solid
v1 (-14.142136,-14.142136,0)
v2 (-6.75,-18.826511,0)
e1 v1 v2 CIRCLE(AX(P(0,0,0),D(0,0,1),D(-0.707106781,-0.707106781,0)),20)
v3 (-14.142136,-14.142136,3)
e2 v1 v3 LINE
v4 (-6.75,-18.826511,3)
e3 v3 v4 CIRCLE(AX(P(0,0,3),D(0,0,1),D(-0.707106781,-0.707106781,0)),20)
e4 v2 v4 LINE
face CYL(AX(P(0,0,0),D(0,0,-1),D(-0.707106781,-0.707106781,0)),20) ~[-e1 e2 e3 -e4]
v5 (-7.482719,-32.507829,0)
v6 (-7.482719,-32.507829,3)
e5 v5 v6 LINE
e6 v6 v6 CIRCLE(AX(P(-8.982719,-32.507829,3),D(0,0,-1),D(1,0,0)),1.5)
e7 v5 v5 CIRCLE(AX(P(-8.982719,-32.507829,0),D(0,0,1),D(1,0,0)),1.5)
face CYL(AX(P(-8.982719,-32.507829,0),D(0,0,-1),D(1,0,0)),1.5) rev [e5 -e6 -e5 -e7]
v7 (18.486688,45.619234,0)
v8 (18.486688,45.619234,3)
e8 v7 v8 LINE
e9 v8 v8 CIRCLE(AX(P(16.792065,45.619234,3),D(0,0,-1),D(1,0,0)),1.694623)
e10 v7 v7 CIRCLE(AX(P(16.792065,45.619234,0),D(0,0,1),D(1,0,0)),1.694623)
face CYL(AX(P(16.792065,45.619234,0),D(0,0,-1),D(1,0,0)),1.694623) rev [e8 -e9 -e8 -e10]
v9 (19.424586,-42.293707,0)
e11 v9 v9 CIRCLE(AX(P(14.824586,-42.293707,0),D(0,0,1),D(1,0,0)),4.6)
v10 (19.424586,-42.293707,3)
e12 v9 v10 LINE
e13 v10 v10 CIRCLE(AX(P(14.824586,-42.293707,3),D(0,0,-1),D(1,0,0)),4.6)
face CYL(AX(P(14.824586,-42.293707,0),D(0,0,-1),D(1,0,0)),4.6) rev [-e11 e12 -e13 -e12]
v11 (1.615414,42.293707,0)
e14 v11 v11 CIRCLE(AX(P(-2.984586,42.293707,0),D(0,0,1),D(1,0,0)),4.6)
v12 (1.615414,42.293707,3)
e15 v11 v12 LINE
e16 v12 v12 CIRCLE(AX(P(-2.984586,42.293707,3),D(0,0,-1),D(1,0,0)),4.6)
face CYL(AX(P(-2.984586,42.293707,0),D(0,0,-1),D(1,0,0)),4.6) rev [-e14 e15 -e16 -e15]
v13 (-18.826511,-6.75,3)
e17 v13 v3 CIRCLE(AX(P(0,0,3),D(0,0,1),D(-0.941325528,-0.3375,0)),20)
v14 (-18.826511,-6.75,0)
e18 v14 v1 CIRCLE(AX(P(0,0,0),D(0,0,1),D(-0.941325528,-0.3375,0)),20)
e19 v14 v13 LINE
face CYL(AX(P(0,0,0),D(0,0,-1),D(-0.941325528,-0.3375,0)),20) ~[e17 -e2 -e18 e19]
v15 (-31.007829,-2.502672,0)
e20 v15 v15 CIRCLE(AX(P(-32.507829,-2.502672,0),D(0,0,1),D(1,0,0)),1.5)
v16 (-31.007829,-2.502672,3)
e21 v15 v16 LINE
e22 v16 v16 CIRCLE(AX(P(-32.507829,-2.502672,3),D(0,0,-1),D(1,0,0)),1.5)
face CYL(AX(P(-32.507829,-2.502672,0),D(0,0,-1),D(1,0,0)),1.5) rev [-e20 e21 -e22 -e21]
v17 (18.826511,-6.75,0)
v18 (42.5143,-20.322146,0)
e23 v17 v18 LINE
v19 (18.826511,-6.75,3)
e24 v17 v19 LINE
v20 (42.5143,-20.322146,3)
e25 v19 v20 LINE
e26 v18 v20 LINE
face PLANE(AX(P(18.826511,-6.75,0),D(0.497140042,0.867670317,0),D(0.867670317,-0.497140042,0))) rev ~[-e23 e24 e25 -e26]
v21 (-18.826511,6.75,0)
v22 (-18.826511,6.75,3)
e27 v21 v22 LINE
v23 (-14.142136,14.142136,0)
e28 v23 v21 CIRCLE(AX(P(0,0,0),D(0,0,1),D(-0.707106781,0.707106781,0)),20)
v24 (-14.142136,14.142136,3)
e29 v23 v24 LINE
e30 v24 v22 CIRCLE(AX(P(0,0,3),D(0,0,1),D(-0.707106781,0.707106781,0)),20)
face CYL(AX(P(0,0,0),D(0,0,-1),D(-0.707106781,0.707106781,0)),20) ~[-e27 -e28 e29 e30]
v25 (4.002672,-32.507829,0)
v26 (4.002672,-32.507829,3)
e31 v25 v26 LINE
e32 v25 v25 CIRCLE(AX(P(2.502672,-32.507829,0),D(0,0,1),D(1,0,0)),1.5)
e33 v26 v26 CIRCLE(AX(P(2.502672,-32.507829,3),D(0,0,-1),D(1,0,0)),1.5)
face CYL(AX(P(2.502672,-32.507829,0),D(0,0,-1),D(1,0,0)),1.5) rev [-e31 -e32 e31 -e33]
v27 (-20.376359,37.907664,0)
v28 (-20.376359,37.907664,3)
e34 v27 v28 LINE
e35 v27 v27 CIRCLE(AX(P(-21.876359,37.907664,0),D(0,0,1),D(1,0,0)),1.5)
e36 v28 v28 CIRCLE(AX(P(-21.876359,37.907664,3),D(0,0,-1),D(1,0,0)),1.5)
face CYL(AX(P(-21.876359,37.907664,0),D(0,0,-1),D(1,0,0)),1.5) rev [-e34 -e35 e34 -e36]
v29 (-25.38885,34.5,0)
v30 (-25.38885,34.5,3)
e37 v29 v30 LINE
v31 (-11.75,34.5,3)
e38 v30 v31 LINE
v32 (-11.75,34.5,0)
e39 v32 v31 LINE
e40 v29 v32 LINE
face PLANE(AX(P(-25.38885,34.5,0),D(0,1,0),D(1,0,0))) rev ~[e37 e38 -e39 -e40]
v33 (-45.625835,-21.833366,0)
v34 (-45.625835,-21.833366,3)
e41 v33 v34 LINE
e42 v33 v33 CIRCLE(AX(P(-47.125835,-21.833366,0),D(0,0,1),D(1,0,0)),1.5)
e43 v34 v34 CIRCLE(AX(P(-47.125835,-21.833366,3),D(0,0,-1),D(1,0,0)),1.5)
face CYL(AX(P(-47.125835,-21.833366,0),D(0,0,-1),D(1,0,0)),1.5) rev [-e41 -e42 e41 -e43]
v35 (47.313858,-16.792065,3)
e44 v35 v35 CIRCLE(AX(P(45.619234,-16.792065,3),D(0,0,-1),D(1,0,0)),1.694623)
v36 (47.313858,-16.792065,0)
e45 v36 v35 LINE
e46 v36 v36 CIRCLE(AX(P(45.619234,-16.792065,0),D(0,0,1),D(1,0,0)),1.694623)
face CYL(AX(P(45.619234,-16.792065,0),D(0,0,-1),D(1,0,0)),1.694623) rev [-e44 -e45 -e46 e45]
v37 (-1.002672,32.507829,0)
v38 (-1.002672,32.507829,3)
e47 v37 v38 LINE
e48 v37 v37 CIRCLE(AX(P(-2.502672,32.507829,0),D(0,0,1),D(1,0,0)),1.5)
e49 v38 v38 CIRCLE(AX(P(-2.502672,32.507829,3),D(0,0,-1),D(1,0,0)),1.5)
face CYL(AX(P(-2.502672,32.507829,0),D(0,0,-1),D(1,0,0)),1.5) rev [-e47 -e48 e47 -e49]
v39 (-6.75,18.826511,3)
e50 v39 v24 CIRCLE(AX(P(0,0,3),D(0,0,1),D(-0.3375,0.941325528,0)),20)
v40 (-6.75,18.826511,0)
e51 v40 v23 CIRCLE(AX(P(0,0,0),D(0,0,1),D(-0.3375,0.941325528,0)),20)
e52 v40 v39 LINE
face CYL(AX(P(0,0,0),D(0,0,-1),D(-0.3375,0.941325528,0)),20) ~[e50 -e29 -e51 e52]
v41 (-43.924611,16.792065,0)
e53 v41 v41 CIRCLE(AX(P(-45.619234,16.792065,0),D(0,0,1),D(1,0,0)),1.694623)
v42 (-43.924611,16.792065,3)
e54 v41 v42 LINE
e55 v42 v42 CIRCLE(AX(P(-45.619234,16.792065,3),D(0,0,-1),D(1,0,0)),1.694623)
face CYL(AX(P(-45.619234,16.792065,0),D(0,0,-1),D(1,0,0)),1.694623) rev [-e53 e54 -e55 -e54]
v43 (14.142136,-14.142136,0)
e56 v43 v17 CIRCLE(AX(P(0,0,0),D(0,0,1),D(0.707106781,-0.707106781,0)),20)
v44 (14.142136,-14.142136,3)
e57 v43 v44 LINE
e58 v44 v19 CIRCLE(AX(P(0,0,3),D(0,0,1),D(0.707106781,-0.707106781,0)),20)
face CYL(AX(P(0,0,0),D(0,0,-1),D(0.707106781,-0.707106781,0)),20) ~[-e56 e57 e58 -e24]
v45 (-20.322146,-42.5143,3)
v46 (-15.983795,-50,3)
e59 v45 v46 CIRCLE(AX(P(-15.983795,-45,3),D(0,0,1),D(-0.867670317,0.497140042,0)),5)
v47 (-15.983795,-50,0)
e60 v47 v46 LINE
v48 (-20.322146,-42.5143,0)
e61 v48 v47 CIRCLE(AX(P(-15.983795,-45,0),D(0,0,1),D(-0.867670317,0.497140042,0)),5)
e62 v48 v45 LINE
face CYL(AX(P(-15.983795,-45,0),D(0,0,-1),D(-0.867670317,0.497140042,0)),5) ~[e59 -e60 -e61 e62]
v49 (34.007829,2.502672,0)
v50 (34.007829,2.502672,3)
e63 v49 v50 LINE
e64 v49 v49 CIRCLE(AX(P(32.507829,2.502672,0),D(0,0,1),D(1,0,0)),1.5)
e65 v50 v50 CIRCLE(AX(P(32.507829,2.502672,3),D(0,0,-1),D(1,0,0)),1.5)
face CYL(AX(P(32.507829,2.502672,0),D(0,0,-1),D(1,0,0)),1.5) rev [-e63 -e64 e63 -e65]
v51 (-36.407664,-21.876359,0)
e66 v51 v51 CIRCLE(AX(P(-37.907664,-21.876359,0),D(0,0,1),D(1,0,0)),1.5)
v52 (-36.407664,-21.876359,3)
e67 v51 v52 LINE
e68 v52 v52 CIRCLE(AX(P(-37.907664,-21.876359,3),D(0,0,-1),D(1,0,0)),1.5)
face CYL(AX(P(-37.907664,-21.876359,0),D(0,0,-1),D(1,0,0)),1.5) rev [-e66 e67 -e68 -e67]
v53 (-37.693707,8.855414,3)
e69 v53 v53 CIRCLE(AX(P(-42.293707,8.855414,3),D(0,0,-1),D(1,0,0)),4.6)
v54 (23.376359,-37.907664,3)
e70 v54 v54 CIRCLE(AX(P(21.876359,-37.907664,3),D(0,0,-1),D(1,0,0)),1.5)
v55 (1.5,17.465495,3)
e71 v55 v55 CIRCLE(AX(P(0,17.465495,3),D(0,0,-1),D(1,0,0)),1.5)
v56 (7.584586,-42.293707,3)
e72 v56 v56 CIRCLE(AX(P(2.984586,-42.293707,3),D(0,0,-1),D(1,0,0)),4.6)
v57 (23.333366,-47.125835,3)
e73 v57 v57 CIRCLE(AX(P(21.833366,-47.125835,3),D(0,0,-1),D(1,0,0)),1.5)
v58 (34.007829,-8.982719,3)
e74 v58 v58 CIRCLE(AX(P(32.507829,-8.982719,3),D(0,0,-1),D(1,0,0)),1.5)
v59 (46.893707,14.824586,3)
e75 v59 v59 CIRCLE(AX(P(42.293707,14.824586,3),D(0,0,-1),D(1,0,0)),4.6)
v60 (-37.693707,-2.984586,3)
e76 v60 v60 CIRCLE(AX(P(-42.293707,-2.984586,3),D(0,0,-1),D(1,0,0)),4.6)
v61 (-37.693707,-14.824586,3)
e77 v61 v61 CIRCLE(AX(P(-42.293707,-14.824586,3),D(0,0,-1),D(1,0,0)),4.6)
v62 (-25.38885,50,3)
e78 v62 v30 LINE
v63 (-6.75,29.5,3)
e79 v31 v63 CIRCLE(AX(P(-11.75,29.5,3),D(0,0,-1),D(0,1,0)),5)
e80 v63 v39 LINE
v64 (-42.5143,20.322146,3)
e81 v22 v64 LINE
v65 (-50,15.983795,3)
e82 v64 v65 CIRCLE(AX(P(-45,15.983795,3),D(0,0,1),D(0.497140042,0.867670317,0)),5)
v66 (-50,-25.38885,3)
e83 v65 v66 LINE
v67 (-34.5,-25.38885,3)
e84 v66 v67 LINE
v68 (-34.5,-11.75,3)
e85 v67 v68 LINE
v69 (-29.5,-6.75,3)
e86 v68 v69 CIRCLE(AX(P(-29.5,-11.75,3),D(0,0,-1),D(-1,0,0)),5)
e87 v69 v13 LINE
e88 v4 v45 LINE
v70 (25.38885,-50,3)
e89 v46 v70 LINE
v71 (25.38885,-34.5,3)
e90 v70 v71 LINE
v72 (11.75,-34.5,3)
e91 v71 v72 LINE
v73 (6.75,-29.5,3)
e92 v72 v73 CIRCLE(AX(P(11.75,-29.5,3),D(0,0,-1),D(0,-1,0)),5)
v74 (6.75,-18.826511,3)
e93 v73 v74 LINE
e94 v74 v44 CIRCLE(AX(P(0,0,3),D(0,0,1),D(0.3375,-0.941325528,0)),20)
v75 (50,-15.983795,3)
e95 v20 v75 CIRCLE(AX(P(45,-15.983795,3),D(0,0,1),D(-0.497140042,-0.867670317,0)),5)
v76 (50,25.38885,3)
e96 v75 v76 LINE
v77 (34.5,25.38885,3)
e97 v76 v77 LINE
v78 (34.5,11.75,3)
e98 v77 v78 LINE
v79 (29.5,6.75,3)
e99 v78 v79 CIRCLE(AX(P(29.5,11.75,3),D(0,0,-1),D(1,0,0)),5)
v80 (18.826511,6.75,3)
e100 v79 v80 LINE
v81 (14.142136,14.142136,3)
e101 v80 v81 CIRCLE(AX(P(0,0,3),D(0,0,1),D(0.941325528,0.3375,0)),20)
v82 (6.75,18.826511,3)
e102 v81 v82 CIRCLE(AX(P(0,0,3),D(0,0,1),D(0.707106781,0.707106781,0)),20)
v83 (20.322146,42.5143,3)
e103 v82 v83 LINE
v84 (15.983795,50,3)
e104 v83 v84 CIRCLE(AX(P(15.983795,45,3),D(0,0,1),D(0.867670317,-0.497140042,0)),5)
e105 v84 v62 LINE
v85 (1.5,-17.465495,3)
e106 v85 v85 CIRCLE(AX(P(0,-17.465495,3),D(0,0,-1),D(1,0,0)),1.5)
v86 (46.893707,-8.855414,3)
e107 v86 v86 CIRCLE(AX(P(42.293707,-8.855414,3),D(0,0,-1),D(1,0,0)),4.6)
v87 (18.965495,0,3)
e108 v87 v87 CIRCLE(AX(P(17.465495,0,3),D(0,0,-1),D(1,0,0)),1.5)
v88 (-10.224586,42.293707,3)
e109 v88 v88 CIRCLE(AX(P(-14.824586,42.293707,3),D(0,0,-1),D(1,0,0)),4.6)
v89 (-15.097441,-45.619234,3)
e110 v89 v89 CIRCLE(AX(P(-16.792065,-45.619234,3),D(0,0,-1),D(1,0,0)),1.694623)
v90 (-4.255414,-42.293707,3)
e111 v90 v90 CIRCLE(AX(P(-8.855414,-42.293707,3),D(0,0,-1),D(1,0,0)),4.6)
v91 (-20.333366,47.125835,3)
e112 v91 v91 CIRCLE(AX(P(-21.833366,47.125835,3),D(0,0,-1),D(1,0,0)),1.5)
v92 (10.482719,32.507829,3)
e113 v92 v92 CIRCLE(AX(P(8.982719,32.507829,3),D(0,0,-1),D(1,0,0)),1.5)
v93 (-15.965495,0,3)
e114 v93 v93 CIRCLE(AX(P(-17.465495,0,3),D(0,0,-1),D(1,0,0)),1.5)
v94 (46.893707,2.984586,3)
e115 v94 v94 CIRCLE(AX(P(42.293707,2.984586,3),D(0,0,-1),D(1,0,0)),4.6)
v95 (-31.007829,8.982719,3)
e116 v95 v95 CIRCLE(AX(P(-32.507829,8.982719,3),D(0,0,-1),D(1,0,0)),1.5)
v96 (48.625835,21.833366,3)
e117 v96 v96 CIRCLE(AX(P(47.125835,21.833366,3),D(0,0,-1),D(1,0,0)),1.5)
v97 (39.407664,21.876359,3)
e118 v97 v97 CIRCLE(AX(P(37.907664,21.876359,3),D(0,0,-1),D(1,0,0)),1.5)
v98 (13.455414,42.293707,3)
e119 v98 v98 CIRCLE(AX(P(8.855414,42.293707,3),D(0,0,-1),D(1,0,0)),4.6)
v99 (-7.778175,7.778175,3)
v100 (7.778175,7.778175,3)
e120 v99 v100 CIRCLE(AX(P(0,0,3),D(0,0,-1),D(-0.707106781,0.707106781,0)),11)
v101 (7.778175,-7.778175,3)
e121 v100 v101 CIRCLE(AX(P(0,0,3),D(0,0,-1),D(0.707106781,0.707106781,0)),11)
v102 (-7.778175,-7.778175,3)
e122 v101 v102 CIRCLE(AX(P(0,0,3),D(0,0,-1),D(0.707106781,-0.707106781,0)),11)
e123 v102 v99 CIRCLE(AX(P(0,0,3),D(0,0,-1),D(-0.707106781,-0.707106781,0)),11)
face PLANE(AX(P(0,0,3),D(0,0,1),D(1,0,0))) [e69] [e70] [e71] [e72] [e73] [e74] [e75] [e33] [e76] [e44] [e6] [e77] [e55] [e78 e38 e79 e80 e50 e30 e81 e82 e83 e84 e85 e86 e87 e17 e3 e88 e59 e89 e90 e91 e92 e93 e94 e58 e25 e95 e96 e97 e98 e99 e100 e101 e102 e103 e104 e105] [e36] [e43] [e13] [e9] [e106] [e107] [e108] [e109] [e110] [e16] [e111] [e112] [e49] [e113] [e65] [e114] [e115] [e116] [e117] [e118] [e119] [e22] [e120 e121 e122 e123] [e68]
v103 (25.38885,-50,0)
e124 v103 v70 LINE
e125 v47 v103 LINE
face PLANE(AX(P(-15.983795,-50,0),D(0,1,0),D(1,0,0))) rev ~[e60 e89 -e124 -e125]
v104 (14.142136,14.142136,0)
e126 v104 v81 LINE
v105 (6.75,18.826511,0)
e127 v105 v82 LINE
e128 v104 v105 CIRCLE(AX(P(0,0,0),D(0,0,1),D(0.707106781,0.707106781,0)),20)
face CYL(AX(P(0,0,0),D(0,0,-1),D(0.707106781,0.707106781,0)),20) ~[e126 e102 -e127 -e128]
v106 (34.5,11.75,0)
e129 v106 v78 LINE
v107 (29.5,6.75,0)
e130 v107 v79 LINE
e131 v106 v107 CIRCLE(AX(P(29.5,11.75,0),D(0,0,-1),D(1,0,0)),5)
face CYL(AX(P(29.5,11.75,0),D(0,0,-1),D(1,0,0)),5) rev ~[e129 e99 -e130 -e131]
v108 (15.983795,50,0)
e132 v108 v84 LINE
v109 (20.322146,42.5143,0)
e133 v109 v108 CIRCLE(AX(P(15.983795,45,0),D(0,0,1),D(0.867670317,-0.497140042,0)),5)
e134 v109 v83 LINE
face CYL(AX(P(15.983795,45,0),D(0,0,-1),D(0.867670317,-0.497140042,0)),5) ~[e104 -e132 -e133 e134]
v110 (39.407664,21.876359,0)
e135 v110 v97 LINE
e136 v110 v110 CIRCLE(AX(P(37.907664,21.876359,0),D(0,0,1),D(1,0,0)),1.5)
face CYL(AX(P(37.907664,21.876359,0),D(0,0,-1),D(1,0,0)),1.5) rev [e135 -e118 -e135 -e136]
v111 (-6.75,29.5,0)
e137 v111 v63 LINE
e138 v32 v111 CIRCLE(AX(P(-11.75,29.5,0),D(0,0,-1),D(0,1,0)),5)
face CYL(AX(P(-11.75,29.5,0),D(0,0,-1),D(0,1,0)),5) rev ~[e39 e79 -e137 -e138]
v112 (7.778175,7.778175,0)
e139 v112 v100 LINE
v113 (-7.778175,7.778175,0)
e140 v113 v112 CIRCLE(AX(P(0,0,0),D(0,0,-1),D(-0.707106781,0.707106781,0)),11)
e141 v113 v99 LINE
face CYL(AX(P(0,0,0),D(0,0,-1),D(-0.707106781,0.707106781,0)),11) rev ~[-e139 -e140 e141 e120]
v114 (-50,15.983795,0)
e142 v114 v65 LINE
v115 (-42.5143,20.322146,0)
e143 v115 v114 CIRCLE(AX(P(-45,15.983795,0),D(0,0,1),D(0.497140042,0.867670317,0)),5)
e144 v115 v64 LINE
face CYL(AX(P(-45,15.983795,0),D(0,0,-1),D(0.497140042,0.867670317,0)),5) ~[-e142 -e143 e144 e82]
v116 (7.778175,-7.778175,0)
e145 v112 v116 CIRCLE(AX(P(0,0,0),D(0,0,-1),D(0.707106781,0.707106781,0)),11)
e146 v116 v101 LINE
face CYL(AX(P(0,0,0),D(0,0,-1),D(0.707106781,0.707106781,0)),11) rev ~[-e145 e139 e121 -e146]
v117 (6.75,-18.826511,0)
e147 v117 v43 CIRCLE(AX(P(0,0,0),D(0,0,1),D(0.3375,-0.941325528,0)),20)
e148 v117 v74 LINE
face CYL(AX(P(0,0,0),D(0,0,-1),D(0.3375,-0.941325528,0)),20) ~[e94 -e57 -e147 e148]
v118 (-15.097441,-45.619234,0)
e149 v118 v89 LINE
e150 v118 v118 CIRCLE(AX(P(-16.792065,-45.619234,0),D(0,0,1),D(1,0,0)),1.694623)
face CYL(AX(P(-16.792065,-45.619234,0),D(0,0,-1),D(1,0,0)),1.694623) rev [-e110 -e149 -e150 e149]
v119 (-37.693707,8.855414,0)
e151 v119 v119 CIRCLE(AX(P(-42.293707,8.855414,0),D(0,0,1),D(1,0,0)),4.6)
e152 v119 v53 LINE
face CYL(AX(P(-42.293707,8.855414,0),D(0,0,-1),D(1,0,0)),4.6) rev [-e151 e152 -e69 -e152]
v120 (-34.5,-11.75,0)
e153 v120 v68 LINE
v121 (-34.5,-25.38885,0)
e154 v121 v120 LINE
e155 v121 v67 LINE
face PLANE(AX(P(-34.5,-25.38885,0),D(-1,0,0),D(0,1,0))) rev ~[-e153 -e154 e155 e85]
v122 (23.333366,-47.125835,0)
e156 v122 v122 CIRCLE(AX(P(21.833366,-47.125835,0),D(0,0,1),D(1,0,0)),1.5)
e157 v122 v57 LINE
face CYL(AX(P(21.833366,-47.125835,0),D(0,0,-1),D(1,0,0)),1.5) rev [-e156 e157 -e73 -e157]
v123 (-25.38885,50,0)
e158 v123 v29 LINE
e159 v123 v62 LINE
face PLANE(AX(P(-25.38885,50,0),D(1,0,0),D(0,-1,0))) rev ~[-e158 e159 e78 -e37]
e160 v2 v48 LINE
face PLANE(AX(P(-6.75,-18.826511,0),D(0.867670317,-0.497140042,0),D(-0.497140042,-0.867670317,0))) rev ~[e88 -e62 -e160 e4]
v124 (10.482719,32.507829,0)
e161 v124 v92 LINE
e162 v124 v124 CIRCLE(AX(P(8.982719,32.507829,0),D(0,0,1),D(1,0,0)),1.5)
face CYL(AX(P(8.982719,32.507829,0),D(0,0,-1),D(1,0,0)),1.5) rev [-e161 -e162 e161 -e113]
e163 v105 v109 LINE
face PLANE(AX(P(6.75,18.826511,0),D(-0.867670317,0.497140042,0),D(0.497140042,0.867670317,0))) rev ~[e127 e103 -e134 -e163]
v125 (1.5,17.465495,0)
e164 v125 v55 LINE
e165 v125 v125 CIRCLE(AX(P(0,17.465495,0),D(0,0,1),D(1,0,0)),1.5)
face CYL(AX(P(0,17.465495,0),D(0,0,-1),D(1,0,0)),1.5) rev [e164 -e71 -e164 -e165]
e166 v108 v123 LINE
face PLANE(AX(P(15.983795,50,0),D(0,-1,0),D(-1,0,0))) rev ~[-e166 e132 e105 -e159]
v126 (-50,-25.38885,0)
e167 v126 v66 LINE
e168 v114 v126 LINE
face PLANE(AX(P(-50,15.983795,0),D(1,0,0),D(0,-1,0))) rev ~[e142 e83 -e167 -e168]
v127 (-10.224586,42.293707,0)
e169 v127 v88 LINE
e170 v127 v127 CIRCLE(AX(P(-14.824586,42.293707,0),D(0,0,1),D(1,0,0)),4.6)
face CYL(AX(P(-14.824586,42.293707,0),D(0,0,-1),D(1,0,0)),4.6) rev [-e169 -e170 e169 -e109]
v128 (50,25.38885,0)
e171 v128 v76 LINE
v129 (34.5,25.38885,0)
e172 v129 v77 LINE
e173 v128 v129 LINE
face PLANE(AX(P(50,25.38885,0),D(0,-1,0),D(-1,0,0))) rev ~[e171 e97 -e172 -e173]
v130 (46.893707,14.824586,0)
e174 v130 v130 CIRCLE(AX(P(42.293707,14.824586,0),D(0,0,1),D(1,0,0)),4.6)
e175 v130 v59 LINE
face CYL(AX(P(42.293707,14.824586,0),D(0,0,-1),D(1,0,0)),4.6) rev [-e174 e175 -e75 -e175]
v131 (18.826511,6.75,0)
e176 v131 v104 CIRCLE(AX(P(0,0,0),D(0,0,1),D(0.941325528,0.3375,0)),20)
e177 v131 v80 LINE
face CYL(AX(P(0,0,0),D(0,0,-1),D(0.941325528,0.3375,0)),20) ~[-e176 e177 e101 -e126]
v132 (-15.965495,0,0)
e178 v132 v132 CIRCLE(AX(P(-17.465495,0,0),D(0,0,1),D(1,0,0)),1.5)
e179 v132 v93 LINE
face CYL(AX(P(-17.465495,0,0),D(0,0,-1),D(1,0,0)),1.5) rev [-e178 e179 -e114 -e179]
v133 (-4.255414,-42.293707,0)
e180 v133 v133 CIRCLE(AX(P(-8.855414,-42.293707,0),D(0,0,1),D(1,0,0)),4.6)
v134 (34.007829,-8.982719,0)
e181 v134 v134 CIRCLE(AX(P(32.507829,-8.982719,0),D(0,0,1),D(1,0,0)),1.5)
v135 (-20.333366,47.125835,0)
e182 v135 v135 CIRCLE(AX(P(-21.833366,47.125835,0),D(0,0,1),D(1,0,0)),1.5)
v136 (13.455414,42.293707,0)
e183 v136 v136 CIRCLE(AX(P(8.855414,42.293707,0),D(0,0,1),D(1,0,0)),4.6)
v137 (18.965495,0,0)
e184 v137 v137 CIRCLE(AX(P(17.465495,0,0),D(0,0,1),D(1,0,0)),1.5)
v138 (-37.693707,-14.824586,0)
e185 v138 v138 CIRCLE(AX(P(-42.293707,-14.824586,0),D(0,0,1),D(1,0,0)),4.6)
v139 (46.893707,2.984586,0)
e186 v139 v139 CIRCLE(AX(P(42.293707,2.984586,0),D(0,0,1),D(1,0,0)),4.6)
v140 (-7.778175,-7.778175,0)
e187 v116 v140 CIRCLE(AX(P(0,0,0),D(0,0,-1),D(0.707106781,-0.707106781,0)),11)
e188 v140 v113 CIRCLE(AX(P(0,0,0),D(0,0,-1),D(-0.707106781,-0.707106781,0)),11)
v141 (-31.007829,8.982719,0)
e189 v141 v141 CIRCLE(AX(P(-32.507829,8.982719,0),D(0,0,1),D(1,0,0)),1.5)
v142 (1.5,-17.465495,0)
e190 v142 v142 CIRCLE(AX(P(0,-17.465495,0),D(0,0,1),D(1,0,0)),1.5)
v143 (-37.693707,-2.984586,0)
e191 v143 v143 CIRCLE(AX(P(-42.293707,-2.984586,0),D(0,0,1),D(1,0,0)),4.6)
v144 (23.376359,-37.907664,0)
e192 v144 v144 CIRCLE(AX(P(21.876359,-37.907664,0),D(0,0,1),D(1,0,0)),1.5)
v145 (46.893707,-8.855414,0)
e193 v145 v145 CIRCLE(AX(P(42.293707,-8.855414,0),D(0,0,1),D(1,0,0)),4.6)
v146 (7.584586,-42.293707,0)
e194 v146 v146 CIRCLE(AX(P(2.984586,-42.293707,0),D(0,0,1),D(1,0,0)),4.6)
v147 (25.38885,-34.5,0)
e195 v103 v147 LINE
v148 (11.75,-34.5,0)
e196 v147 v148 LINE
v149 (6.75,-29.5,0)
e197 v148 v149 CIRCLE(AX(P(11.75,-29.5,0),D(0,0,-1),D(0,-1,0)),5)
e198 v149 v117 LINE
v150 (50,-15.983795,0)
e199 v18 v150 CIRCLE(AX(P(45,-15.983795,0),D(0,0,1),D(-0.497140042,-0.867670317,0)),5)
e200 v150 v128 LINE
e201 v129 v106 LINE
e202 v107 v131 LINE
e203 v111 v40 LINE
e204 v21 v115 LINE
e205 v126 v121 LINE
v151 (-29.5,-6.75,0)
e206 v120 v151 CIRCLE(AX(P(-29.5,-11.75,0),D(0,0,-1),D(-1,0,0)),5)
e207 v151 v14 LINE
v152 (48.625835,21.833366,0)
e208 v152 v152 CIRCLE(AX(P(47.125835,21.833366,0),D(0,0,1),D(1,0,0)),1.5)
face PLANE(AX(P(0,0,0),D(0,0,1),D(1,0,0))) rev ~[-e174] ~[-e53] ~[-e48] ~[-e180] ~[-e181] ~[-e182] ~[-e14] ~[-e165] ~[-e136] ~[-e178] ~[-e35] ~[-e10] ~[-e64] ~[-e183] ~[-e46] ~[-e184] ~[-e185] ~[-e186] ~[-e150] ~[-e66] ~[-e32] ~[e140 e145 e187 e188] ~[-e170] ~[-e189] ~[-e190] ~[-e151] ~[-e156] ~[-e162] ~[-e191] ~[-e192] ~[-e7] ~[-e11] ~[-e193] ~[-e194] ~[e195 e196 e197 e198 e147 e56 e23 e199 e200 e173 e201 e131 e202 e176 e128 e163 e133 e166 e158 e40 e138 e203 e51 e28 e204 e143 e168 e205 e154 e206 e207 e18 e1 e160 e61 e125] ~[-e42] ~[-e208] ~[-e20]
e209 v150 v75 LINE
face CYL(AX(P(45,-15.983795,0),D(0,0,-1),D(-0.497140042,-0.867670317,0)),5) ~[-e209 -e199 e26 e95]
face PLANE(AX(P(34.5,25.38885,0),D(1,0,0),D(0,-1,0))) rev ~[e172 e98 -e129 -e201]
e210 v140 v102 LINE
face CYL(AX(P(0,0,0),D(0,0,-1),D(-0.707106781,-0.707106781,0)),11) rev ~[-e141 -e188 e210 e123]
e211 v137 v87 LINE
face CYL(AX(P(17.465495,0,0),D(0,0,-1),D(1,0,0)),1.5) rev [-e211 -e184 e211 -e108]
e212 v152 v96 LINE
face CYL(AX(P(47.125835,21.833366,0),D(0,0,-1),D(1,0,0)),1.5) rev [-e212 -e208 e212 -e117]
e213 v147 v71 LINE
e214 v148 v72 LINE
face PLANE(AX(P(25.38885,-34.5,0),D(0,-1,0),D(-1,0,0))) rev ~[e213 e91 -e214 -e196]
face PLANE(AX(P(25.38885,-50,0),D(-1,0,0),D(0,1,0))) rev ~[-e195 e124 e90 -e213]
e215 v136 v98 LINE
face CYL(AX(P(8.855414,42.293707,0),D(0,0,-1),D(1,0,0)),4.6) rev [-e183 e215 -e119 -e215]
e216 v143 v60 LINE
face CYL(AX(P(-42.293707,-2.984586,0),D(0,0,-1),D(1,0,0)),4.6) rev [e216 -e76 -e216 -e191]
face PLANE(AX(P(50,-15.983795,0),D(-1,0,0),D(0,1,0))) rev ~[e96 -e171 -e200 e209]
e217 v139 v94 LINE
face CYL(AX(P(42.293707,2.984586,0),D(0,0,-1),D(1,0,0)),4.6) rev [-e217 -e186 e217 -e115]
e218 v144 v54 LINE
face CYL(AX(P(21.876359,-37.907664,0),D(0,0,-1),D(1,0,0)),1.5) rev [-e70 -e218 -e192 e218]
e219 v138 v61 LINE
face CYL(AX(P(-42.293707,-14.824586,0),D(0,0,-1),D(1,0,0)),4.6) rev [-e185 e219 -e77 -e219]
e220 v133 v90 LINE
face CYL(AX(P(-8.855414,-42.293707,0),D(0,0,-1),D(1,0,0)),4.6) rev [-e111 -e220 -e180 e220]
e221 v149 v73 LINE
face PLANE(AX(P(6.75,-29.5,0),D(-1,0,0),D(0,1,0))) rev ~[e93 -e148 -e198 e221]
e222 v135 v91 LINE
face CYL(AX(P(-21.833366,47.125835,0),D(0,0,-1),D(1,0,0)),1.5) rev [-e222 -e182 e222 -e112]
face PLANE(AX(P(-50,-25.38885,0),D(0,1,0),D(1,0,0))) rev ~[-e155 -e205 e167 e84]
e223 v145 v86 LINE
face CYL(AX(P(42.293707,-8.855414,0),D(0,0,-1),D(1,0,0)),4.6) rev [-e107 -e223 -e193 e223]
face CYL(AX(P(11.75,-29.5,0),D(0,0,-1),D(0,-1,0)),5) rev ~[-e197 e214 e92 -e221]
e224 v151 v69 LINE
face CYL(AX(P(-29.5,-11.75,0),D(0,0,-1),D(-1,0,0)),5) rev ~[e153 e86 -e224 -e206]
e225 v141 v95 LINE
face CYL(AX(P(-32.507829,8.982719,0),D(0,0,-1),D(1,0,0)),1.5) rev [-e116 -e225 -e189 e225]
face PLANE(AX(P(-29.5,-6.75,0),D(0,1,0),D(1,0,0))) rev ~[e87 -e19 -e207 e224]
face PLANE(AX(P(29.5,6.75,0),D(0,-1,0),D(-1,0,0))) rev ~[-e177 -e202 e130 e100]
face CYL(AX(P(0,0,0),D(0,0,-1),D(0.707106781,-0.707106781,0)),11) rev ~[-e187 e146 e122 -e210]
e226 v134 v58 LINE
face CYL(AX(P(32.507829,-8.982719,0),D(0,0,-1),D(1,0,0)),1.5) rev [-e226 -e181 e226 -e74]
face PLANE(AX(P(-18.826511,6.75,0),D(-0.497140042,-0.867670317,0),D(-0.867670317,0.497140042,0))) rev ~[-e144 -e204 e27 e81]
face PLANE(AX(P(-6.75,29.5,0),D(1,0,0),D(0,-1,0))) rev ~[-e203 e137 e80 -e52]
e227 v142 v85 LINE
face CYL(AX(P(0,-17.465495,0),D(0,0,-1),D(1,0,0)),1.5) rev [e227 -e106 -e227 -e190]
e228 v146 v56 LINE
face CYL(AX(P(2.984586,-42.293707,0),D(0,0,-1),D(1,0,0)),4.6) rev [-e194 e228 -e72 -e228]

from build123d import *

# Parameters (mm, degrees)
F1_DEPTH = 3
F2_R     = 4.6
F3_DEPTH = 25
F4_R     = 1.6946230943
F4_R_2   = 1.5
F5_DEPTH = 30


with BuildPart() as f1:
    # F0 (on Top) → F1 (new body)
    with BuildSketch(Plane.XY):
        with BuildLine():
            Line((-6.75, 29.5), (-6.75, 18.8265105636))
            ThreePointArc((-6.75, 18.8265105636), (-10.705427356, 16.893603083), (-14.1421356237, 14.1421356237))
            ThreePointArc((-14.1421356237, 14.1421356237), (-16.893603083, 10.705427356), (-18.8265105636, 6.75))
            Line((-18.8265105636, 6.75), (-42.5142997889, 20.3221463664))
            ThreePointArc((-42.5142997889, 20.3221463664), (-47.5071396994, 20.3097918389), (-50, 15.983794783))
            Line((-50, 15.983794783), (-50, -25.3888497949))
            Line((-50, -25.3888497949), (-34.5, -25.3888497949))
            Line((-34.5, -25.3888497949), (-34.5, -11.75))
            ThreePointArc((-34.5, -11.75), (-33.0355339059, -8.2144660941), (-29.5, -6.75))
            Line((-29.5, -6.75), (-18.8265105636, -6.75))
            ThreePointArc((-18.8265105636, -6.75), (-16.893603083, -10.705427356), (-14.1421356237, -14.1421356237))
            ThreePointArc((-14.1421356237, -14.1421356237), (-10.705427356, -16.893603083), (-6.75, -18.8265105636))
            Line((-6.75, -18.8265105636), (-20.3221463664, -42.5142997889))
            ThreePointArc((-20.3221463664, -42.5142997889), (-20.3097918389, -47.5071396994), (-15.983794783, -50))
            Line((-15.983794783, -50), (25.3888497949, -50))
            Line((25.3888497949, -50), (25.3888497949, -34.5))
            Line((25.3888497949, -34.5), (11.75, -34.5))
            ThreePointArc((11.75, -34.5), (8.2144660941, -33.0355339059), (6.75, -29.5))
            Line((6.75, -29.5), (6.75, -18.8265105636))
            ThreePointArc((6.75, -18.8265105636), (10.705427356, -16.893603083), (14.1421356237, -14.1421356237))
            ThreePointArc((14.1421356237, -14.1421356237), (16.893603083, -10.705427356), (18.8265105636, -6.75))
            Line((18.8265105636, -6.75), (42.5142997889, -20.3221463664))
            ThreePointArc((42.5142997889, -20.3221463664), (47.5071396994, -20.3097918389), (50, -15.983794783))
            Line((50, -15.983794783), (50, 25.3888497949))
            Line((50, 25.3888497949), (34.5, 25.3888497949))
            Line((34.5, 25.3888497949), (34.5, 11.75))
            ThreePointArc((34.5, 11.75), (33.0355339059, 8.2144660941), (29.5, 6.75))
            Line((29.5, 6.75), (18.8265105636, 6.75))
            ThreePointArc((18.8265105636, 6.75), (16.893603083, 10.705427356), (14.1421356237, 14.1421356237))
            ThreePointArc((14.1421356237, 14.1421356237), (10.705427356, 16.893603083), (6.75, 18.8265105636))
            Line((6.75, 18.8265105636), (20.3221463664, 42.5142997889))
            ThreePointArc((20.3221463664, 42.5142997889), (20.3097918389, 47.5071396994), (15.983794783, 50))
            Line((15.983794783, 50), (-25.3888497949, 50))
            Line((-25.3888497949, 50), (-25.3888497949, 34.5))
            Line((-25.3888497949, 34.5), (-11.75, 34.5))
            ThreePointArc((-11.75, 34.5), (-8.2144660941, 33.0355339059), (-6.75, 29.5))
        make_face()
        with BuildLine():
            ThreePointArc((-7.7781745931, 7.7781745931), (0, 11), (7.7781745931, 7.7781745931))
            ThreePointArc((7.7781745931, 7.7781745931), (11, 0), (7.7781745931, -7.7781745931))
            ThreePointArc((7.7781745931, -7.7781745931), (0, -11), (-7.7781745931, -7.7781745931))
            ThreePointArc((-7.7781745931, -7.7781745931), (-11, 0), (-7.7781745931, 7.7781745931))
        make_face(mode=Mode.SUBTRACT)
    extrude(amount=F1_DEPTH)

    # F2 (on Top) → F3 (cut)
    with BuildSketch(Plane.XY):
        with Locations((-14.8245864651, 42.2937068045)):
            Circle(F2_R)
        with Locations((-2.9845864651, 42.2937068045)):
            Circle(F2_R)
        with Locations((8.8554135349, 42.2937068045)):
            Circle(F2_R)
        with Locations((-42.2937068045, -2.9845864651)):
            Circle(F2_R)
        with Locations((-42.2937068045, 8.8554135349)):
            Circle(F2_R)
        with Locations((-42.2937068045, -14.8245864651)):
            Circle(F2_R)
        with Locations((2.9845864651, -42.2937068045)):
            Circle(F2_R)
        with Locations((-8.8554135349, -42.2937068045)):
            Circle(F2_R)
        with Locations((14.8245864651, -42.2937068045)):
            Circle(F2_R)
        with Locations((42.2937068045, 2.9845864651)):
            Circle(F2_R)
        with Locations((42.2937068045, -8.8554135349)):
            Circle(F2_R)
        with Locations((42.2937068045, 14.8245864651)):
            Circle(F2_R)
    extrude(amount=F3_DEPTH, mode=Mode.SUBTRACT)

    # F4 (on Top) → F5 (cut)
    with BuildSketch(Plane.XY):
        with Locations((16.7920645326, 45.6192344427)):
            Circle(F4_R)
        with Locations((-21.8333657831, 47.1258349717)):
            Circle(F4_R_2)
        with Locations((-21.8763593584, 37.9076637328)):
            Circle(F4_R_2)
        with Locations((8.9827191732, 32.5078293681)):
            Circle(F4_R_2)
        with Locations((0, 17.4654945731)):
            Circle(F4_R_2)
        with Locations((-2.5026722487, 32.5078293681)):
            Circle(F4_R_2)
        with Locations((-32.5078293681, -2.5026722487)):
            Circle(F4_R_2)
        with Locations((-37.9076637328, -21.8763593584)):
            Circle(F4_R_2)
        with Locations((-45.6192344427, 16.7920645326)):
            Circle(F4_R)
        with Locations((-32.5078293681, 8.9827191732)):
            Circle(F4_R_2)
        with Locations((-47.1258349717, -21.8333657831)):
            Circle(F4_R_2)
        with Locations((-17.4654945731, 0)):
            Circle(F4_R_2)
        with Locations((2.5026722487, -32.5078293681)):
            Circle(F4_R_2)
        with Locations((21.8763593584, -37.9076637328)):
            Circle(F4_R_2)
        with Locations((-16.7920645326, -45.6192344427)):
            Circle(F4_R)
        with Locations((-8.9827191732, -32.5078293681)):
            Circle(F4_R_2)
        with Locations((21.8333657831, -47.1258349717)):
            Circle(F4_R_2)
        with Locations((0, -17.4654945731)):
            Circle(F4_R_2)
        with Locations((32.5078293681, 2.5026722487)):
            Circle(F4_R_2)
        with Locations((37.9076637328, 21.8763593584)):
            Circle(F4_R_2)
        with Locations((45.6192344427, -16.7920645326)):
            Circle(F4_R)
        with Locations((32.5078293681, -8.9827191732)):
            Circle(F4_R_2)
        with Locations((47.1258349717, 21.8333657831)):
            Circle(F4_R_2)
        with Locations((17.4654945731, 0)):
            Circle(F4_R_2)
    extrude(amount=F5_DEPTH, mode=Mode.SUBTRACT)


solid = f1.part
